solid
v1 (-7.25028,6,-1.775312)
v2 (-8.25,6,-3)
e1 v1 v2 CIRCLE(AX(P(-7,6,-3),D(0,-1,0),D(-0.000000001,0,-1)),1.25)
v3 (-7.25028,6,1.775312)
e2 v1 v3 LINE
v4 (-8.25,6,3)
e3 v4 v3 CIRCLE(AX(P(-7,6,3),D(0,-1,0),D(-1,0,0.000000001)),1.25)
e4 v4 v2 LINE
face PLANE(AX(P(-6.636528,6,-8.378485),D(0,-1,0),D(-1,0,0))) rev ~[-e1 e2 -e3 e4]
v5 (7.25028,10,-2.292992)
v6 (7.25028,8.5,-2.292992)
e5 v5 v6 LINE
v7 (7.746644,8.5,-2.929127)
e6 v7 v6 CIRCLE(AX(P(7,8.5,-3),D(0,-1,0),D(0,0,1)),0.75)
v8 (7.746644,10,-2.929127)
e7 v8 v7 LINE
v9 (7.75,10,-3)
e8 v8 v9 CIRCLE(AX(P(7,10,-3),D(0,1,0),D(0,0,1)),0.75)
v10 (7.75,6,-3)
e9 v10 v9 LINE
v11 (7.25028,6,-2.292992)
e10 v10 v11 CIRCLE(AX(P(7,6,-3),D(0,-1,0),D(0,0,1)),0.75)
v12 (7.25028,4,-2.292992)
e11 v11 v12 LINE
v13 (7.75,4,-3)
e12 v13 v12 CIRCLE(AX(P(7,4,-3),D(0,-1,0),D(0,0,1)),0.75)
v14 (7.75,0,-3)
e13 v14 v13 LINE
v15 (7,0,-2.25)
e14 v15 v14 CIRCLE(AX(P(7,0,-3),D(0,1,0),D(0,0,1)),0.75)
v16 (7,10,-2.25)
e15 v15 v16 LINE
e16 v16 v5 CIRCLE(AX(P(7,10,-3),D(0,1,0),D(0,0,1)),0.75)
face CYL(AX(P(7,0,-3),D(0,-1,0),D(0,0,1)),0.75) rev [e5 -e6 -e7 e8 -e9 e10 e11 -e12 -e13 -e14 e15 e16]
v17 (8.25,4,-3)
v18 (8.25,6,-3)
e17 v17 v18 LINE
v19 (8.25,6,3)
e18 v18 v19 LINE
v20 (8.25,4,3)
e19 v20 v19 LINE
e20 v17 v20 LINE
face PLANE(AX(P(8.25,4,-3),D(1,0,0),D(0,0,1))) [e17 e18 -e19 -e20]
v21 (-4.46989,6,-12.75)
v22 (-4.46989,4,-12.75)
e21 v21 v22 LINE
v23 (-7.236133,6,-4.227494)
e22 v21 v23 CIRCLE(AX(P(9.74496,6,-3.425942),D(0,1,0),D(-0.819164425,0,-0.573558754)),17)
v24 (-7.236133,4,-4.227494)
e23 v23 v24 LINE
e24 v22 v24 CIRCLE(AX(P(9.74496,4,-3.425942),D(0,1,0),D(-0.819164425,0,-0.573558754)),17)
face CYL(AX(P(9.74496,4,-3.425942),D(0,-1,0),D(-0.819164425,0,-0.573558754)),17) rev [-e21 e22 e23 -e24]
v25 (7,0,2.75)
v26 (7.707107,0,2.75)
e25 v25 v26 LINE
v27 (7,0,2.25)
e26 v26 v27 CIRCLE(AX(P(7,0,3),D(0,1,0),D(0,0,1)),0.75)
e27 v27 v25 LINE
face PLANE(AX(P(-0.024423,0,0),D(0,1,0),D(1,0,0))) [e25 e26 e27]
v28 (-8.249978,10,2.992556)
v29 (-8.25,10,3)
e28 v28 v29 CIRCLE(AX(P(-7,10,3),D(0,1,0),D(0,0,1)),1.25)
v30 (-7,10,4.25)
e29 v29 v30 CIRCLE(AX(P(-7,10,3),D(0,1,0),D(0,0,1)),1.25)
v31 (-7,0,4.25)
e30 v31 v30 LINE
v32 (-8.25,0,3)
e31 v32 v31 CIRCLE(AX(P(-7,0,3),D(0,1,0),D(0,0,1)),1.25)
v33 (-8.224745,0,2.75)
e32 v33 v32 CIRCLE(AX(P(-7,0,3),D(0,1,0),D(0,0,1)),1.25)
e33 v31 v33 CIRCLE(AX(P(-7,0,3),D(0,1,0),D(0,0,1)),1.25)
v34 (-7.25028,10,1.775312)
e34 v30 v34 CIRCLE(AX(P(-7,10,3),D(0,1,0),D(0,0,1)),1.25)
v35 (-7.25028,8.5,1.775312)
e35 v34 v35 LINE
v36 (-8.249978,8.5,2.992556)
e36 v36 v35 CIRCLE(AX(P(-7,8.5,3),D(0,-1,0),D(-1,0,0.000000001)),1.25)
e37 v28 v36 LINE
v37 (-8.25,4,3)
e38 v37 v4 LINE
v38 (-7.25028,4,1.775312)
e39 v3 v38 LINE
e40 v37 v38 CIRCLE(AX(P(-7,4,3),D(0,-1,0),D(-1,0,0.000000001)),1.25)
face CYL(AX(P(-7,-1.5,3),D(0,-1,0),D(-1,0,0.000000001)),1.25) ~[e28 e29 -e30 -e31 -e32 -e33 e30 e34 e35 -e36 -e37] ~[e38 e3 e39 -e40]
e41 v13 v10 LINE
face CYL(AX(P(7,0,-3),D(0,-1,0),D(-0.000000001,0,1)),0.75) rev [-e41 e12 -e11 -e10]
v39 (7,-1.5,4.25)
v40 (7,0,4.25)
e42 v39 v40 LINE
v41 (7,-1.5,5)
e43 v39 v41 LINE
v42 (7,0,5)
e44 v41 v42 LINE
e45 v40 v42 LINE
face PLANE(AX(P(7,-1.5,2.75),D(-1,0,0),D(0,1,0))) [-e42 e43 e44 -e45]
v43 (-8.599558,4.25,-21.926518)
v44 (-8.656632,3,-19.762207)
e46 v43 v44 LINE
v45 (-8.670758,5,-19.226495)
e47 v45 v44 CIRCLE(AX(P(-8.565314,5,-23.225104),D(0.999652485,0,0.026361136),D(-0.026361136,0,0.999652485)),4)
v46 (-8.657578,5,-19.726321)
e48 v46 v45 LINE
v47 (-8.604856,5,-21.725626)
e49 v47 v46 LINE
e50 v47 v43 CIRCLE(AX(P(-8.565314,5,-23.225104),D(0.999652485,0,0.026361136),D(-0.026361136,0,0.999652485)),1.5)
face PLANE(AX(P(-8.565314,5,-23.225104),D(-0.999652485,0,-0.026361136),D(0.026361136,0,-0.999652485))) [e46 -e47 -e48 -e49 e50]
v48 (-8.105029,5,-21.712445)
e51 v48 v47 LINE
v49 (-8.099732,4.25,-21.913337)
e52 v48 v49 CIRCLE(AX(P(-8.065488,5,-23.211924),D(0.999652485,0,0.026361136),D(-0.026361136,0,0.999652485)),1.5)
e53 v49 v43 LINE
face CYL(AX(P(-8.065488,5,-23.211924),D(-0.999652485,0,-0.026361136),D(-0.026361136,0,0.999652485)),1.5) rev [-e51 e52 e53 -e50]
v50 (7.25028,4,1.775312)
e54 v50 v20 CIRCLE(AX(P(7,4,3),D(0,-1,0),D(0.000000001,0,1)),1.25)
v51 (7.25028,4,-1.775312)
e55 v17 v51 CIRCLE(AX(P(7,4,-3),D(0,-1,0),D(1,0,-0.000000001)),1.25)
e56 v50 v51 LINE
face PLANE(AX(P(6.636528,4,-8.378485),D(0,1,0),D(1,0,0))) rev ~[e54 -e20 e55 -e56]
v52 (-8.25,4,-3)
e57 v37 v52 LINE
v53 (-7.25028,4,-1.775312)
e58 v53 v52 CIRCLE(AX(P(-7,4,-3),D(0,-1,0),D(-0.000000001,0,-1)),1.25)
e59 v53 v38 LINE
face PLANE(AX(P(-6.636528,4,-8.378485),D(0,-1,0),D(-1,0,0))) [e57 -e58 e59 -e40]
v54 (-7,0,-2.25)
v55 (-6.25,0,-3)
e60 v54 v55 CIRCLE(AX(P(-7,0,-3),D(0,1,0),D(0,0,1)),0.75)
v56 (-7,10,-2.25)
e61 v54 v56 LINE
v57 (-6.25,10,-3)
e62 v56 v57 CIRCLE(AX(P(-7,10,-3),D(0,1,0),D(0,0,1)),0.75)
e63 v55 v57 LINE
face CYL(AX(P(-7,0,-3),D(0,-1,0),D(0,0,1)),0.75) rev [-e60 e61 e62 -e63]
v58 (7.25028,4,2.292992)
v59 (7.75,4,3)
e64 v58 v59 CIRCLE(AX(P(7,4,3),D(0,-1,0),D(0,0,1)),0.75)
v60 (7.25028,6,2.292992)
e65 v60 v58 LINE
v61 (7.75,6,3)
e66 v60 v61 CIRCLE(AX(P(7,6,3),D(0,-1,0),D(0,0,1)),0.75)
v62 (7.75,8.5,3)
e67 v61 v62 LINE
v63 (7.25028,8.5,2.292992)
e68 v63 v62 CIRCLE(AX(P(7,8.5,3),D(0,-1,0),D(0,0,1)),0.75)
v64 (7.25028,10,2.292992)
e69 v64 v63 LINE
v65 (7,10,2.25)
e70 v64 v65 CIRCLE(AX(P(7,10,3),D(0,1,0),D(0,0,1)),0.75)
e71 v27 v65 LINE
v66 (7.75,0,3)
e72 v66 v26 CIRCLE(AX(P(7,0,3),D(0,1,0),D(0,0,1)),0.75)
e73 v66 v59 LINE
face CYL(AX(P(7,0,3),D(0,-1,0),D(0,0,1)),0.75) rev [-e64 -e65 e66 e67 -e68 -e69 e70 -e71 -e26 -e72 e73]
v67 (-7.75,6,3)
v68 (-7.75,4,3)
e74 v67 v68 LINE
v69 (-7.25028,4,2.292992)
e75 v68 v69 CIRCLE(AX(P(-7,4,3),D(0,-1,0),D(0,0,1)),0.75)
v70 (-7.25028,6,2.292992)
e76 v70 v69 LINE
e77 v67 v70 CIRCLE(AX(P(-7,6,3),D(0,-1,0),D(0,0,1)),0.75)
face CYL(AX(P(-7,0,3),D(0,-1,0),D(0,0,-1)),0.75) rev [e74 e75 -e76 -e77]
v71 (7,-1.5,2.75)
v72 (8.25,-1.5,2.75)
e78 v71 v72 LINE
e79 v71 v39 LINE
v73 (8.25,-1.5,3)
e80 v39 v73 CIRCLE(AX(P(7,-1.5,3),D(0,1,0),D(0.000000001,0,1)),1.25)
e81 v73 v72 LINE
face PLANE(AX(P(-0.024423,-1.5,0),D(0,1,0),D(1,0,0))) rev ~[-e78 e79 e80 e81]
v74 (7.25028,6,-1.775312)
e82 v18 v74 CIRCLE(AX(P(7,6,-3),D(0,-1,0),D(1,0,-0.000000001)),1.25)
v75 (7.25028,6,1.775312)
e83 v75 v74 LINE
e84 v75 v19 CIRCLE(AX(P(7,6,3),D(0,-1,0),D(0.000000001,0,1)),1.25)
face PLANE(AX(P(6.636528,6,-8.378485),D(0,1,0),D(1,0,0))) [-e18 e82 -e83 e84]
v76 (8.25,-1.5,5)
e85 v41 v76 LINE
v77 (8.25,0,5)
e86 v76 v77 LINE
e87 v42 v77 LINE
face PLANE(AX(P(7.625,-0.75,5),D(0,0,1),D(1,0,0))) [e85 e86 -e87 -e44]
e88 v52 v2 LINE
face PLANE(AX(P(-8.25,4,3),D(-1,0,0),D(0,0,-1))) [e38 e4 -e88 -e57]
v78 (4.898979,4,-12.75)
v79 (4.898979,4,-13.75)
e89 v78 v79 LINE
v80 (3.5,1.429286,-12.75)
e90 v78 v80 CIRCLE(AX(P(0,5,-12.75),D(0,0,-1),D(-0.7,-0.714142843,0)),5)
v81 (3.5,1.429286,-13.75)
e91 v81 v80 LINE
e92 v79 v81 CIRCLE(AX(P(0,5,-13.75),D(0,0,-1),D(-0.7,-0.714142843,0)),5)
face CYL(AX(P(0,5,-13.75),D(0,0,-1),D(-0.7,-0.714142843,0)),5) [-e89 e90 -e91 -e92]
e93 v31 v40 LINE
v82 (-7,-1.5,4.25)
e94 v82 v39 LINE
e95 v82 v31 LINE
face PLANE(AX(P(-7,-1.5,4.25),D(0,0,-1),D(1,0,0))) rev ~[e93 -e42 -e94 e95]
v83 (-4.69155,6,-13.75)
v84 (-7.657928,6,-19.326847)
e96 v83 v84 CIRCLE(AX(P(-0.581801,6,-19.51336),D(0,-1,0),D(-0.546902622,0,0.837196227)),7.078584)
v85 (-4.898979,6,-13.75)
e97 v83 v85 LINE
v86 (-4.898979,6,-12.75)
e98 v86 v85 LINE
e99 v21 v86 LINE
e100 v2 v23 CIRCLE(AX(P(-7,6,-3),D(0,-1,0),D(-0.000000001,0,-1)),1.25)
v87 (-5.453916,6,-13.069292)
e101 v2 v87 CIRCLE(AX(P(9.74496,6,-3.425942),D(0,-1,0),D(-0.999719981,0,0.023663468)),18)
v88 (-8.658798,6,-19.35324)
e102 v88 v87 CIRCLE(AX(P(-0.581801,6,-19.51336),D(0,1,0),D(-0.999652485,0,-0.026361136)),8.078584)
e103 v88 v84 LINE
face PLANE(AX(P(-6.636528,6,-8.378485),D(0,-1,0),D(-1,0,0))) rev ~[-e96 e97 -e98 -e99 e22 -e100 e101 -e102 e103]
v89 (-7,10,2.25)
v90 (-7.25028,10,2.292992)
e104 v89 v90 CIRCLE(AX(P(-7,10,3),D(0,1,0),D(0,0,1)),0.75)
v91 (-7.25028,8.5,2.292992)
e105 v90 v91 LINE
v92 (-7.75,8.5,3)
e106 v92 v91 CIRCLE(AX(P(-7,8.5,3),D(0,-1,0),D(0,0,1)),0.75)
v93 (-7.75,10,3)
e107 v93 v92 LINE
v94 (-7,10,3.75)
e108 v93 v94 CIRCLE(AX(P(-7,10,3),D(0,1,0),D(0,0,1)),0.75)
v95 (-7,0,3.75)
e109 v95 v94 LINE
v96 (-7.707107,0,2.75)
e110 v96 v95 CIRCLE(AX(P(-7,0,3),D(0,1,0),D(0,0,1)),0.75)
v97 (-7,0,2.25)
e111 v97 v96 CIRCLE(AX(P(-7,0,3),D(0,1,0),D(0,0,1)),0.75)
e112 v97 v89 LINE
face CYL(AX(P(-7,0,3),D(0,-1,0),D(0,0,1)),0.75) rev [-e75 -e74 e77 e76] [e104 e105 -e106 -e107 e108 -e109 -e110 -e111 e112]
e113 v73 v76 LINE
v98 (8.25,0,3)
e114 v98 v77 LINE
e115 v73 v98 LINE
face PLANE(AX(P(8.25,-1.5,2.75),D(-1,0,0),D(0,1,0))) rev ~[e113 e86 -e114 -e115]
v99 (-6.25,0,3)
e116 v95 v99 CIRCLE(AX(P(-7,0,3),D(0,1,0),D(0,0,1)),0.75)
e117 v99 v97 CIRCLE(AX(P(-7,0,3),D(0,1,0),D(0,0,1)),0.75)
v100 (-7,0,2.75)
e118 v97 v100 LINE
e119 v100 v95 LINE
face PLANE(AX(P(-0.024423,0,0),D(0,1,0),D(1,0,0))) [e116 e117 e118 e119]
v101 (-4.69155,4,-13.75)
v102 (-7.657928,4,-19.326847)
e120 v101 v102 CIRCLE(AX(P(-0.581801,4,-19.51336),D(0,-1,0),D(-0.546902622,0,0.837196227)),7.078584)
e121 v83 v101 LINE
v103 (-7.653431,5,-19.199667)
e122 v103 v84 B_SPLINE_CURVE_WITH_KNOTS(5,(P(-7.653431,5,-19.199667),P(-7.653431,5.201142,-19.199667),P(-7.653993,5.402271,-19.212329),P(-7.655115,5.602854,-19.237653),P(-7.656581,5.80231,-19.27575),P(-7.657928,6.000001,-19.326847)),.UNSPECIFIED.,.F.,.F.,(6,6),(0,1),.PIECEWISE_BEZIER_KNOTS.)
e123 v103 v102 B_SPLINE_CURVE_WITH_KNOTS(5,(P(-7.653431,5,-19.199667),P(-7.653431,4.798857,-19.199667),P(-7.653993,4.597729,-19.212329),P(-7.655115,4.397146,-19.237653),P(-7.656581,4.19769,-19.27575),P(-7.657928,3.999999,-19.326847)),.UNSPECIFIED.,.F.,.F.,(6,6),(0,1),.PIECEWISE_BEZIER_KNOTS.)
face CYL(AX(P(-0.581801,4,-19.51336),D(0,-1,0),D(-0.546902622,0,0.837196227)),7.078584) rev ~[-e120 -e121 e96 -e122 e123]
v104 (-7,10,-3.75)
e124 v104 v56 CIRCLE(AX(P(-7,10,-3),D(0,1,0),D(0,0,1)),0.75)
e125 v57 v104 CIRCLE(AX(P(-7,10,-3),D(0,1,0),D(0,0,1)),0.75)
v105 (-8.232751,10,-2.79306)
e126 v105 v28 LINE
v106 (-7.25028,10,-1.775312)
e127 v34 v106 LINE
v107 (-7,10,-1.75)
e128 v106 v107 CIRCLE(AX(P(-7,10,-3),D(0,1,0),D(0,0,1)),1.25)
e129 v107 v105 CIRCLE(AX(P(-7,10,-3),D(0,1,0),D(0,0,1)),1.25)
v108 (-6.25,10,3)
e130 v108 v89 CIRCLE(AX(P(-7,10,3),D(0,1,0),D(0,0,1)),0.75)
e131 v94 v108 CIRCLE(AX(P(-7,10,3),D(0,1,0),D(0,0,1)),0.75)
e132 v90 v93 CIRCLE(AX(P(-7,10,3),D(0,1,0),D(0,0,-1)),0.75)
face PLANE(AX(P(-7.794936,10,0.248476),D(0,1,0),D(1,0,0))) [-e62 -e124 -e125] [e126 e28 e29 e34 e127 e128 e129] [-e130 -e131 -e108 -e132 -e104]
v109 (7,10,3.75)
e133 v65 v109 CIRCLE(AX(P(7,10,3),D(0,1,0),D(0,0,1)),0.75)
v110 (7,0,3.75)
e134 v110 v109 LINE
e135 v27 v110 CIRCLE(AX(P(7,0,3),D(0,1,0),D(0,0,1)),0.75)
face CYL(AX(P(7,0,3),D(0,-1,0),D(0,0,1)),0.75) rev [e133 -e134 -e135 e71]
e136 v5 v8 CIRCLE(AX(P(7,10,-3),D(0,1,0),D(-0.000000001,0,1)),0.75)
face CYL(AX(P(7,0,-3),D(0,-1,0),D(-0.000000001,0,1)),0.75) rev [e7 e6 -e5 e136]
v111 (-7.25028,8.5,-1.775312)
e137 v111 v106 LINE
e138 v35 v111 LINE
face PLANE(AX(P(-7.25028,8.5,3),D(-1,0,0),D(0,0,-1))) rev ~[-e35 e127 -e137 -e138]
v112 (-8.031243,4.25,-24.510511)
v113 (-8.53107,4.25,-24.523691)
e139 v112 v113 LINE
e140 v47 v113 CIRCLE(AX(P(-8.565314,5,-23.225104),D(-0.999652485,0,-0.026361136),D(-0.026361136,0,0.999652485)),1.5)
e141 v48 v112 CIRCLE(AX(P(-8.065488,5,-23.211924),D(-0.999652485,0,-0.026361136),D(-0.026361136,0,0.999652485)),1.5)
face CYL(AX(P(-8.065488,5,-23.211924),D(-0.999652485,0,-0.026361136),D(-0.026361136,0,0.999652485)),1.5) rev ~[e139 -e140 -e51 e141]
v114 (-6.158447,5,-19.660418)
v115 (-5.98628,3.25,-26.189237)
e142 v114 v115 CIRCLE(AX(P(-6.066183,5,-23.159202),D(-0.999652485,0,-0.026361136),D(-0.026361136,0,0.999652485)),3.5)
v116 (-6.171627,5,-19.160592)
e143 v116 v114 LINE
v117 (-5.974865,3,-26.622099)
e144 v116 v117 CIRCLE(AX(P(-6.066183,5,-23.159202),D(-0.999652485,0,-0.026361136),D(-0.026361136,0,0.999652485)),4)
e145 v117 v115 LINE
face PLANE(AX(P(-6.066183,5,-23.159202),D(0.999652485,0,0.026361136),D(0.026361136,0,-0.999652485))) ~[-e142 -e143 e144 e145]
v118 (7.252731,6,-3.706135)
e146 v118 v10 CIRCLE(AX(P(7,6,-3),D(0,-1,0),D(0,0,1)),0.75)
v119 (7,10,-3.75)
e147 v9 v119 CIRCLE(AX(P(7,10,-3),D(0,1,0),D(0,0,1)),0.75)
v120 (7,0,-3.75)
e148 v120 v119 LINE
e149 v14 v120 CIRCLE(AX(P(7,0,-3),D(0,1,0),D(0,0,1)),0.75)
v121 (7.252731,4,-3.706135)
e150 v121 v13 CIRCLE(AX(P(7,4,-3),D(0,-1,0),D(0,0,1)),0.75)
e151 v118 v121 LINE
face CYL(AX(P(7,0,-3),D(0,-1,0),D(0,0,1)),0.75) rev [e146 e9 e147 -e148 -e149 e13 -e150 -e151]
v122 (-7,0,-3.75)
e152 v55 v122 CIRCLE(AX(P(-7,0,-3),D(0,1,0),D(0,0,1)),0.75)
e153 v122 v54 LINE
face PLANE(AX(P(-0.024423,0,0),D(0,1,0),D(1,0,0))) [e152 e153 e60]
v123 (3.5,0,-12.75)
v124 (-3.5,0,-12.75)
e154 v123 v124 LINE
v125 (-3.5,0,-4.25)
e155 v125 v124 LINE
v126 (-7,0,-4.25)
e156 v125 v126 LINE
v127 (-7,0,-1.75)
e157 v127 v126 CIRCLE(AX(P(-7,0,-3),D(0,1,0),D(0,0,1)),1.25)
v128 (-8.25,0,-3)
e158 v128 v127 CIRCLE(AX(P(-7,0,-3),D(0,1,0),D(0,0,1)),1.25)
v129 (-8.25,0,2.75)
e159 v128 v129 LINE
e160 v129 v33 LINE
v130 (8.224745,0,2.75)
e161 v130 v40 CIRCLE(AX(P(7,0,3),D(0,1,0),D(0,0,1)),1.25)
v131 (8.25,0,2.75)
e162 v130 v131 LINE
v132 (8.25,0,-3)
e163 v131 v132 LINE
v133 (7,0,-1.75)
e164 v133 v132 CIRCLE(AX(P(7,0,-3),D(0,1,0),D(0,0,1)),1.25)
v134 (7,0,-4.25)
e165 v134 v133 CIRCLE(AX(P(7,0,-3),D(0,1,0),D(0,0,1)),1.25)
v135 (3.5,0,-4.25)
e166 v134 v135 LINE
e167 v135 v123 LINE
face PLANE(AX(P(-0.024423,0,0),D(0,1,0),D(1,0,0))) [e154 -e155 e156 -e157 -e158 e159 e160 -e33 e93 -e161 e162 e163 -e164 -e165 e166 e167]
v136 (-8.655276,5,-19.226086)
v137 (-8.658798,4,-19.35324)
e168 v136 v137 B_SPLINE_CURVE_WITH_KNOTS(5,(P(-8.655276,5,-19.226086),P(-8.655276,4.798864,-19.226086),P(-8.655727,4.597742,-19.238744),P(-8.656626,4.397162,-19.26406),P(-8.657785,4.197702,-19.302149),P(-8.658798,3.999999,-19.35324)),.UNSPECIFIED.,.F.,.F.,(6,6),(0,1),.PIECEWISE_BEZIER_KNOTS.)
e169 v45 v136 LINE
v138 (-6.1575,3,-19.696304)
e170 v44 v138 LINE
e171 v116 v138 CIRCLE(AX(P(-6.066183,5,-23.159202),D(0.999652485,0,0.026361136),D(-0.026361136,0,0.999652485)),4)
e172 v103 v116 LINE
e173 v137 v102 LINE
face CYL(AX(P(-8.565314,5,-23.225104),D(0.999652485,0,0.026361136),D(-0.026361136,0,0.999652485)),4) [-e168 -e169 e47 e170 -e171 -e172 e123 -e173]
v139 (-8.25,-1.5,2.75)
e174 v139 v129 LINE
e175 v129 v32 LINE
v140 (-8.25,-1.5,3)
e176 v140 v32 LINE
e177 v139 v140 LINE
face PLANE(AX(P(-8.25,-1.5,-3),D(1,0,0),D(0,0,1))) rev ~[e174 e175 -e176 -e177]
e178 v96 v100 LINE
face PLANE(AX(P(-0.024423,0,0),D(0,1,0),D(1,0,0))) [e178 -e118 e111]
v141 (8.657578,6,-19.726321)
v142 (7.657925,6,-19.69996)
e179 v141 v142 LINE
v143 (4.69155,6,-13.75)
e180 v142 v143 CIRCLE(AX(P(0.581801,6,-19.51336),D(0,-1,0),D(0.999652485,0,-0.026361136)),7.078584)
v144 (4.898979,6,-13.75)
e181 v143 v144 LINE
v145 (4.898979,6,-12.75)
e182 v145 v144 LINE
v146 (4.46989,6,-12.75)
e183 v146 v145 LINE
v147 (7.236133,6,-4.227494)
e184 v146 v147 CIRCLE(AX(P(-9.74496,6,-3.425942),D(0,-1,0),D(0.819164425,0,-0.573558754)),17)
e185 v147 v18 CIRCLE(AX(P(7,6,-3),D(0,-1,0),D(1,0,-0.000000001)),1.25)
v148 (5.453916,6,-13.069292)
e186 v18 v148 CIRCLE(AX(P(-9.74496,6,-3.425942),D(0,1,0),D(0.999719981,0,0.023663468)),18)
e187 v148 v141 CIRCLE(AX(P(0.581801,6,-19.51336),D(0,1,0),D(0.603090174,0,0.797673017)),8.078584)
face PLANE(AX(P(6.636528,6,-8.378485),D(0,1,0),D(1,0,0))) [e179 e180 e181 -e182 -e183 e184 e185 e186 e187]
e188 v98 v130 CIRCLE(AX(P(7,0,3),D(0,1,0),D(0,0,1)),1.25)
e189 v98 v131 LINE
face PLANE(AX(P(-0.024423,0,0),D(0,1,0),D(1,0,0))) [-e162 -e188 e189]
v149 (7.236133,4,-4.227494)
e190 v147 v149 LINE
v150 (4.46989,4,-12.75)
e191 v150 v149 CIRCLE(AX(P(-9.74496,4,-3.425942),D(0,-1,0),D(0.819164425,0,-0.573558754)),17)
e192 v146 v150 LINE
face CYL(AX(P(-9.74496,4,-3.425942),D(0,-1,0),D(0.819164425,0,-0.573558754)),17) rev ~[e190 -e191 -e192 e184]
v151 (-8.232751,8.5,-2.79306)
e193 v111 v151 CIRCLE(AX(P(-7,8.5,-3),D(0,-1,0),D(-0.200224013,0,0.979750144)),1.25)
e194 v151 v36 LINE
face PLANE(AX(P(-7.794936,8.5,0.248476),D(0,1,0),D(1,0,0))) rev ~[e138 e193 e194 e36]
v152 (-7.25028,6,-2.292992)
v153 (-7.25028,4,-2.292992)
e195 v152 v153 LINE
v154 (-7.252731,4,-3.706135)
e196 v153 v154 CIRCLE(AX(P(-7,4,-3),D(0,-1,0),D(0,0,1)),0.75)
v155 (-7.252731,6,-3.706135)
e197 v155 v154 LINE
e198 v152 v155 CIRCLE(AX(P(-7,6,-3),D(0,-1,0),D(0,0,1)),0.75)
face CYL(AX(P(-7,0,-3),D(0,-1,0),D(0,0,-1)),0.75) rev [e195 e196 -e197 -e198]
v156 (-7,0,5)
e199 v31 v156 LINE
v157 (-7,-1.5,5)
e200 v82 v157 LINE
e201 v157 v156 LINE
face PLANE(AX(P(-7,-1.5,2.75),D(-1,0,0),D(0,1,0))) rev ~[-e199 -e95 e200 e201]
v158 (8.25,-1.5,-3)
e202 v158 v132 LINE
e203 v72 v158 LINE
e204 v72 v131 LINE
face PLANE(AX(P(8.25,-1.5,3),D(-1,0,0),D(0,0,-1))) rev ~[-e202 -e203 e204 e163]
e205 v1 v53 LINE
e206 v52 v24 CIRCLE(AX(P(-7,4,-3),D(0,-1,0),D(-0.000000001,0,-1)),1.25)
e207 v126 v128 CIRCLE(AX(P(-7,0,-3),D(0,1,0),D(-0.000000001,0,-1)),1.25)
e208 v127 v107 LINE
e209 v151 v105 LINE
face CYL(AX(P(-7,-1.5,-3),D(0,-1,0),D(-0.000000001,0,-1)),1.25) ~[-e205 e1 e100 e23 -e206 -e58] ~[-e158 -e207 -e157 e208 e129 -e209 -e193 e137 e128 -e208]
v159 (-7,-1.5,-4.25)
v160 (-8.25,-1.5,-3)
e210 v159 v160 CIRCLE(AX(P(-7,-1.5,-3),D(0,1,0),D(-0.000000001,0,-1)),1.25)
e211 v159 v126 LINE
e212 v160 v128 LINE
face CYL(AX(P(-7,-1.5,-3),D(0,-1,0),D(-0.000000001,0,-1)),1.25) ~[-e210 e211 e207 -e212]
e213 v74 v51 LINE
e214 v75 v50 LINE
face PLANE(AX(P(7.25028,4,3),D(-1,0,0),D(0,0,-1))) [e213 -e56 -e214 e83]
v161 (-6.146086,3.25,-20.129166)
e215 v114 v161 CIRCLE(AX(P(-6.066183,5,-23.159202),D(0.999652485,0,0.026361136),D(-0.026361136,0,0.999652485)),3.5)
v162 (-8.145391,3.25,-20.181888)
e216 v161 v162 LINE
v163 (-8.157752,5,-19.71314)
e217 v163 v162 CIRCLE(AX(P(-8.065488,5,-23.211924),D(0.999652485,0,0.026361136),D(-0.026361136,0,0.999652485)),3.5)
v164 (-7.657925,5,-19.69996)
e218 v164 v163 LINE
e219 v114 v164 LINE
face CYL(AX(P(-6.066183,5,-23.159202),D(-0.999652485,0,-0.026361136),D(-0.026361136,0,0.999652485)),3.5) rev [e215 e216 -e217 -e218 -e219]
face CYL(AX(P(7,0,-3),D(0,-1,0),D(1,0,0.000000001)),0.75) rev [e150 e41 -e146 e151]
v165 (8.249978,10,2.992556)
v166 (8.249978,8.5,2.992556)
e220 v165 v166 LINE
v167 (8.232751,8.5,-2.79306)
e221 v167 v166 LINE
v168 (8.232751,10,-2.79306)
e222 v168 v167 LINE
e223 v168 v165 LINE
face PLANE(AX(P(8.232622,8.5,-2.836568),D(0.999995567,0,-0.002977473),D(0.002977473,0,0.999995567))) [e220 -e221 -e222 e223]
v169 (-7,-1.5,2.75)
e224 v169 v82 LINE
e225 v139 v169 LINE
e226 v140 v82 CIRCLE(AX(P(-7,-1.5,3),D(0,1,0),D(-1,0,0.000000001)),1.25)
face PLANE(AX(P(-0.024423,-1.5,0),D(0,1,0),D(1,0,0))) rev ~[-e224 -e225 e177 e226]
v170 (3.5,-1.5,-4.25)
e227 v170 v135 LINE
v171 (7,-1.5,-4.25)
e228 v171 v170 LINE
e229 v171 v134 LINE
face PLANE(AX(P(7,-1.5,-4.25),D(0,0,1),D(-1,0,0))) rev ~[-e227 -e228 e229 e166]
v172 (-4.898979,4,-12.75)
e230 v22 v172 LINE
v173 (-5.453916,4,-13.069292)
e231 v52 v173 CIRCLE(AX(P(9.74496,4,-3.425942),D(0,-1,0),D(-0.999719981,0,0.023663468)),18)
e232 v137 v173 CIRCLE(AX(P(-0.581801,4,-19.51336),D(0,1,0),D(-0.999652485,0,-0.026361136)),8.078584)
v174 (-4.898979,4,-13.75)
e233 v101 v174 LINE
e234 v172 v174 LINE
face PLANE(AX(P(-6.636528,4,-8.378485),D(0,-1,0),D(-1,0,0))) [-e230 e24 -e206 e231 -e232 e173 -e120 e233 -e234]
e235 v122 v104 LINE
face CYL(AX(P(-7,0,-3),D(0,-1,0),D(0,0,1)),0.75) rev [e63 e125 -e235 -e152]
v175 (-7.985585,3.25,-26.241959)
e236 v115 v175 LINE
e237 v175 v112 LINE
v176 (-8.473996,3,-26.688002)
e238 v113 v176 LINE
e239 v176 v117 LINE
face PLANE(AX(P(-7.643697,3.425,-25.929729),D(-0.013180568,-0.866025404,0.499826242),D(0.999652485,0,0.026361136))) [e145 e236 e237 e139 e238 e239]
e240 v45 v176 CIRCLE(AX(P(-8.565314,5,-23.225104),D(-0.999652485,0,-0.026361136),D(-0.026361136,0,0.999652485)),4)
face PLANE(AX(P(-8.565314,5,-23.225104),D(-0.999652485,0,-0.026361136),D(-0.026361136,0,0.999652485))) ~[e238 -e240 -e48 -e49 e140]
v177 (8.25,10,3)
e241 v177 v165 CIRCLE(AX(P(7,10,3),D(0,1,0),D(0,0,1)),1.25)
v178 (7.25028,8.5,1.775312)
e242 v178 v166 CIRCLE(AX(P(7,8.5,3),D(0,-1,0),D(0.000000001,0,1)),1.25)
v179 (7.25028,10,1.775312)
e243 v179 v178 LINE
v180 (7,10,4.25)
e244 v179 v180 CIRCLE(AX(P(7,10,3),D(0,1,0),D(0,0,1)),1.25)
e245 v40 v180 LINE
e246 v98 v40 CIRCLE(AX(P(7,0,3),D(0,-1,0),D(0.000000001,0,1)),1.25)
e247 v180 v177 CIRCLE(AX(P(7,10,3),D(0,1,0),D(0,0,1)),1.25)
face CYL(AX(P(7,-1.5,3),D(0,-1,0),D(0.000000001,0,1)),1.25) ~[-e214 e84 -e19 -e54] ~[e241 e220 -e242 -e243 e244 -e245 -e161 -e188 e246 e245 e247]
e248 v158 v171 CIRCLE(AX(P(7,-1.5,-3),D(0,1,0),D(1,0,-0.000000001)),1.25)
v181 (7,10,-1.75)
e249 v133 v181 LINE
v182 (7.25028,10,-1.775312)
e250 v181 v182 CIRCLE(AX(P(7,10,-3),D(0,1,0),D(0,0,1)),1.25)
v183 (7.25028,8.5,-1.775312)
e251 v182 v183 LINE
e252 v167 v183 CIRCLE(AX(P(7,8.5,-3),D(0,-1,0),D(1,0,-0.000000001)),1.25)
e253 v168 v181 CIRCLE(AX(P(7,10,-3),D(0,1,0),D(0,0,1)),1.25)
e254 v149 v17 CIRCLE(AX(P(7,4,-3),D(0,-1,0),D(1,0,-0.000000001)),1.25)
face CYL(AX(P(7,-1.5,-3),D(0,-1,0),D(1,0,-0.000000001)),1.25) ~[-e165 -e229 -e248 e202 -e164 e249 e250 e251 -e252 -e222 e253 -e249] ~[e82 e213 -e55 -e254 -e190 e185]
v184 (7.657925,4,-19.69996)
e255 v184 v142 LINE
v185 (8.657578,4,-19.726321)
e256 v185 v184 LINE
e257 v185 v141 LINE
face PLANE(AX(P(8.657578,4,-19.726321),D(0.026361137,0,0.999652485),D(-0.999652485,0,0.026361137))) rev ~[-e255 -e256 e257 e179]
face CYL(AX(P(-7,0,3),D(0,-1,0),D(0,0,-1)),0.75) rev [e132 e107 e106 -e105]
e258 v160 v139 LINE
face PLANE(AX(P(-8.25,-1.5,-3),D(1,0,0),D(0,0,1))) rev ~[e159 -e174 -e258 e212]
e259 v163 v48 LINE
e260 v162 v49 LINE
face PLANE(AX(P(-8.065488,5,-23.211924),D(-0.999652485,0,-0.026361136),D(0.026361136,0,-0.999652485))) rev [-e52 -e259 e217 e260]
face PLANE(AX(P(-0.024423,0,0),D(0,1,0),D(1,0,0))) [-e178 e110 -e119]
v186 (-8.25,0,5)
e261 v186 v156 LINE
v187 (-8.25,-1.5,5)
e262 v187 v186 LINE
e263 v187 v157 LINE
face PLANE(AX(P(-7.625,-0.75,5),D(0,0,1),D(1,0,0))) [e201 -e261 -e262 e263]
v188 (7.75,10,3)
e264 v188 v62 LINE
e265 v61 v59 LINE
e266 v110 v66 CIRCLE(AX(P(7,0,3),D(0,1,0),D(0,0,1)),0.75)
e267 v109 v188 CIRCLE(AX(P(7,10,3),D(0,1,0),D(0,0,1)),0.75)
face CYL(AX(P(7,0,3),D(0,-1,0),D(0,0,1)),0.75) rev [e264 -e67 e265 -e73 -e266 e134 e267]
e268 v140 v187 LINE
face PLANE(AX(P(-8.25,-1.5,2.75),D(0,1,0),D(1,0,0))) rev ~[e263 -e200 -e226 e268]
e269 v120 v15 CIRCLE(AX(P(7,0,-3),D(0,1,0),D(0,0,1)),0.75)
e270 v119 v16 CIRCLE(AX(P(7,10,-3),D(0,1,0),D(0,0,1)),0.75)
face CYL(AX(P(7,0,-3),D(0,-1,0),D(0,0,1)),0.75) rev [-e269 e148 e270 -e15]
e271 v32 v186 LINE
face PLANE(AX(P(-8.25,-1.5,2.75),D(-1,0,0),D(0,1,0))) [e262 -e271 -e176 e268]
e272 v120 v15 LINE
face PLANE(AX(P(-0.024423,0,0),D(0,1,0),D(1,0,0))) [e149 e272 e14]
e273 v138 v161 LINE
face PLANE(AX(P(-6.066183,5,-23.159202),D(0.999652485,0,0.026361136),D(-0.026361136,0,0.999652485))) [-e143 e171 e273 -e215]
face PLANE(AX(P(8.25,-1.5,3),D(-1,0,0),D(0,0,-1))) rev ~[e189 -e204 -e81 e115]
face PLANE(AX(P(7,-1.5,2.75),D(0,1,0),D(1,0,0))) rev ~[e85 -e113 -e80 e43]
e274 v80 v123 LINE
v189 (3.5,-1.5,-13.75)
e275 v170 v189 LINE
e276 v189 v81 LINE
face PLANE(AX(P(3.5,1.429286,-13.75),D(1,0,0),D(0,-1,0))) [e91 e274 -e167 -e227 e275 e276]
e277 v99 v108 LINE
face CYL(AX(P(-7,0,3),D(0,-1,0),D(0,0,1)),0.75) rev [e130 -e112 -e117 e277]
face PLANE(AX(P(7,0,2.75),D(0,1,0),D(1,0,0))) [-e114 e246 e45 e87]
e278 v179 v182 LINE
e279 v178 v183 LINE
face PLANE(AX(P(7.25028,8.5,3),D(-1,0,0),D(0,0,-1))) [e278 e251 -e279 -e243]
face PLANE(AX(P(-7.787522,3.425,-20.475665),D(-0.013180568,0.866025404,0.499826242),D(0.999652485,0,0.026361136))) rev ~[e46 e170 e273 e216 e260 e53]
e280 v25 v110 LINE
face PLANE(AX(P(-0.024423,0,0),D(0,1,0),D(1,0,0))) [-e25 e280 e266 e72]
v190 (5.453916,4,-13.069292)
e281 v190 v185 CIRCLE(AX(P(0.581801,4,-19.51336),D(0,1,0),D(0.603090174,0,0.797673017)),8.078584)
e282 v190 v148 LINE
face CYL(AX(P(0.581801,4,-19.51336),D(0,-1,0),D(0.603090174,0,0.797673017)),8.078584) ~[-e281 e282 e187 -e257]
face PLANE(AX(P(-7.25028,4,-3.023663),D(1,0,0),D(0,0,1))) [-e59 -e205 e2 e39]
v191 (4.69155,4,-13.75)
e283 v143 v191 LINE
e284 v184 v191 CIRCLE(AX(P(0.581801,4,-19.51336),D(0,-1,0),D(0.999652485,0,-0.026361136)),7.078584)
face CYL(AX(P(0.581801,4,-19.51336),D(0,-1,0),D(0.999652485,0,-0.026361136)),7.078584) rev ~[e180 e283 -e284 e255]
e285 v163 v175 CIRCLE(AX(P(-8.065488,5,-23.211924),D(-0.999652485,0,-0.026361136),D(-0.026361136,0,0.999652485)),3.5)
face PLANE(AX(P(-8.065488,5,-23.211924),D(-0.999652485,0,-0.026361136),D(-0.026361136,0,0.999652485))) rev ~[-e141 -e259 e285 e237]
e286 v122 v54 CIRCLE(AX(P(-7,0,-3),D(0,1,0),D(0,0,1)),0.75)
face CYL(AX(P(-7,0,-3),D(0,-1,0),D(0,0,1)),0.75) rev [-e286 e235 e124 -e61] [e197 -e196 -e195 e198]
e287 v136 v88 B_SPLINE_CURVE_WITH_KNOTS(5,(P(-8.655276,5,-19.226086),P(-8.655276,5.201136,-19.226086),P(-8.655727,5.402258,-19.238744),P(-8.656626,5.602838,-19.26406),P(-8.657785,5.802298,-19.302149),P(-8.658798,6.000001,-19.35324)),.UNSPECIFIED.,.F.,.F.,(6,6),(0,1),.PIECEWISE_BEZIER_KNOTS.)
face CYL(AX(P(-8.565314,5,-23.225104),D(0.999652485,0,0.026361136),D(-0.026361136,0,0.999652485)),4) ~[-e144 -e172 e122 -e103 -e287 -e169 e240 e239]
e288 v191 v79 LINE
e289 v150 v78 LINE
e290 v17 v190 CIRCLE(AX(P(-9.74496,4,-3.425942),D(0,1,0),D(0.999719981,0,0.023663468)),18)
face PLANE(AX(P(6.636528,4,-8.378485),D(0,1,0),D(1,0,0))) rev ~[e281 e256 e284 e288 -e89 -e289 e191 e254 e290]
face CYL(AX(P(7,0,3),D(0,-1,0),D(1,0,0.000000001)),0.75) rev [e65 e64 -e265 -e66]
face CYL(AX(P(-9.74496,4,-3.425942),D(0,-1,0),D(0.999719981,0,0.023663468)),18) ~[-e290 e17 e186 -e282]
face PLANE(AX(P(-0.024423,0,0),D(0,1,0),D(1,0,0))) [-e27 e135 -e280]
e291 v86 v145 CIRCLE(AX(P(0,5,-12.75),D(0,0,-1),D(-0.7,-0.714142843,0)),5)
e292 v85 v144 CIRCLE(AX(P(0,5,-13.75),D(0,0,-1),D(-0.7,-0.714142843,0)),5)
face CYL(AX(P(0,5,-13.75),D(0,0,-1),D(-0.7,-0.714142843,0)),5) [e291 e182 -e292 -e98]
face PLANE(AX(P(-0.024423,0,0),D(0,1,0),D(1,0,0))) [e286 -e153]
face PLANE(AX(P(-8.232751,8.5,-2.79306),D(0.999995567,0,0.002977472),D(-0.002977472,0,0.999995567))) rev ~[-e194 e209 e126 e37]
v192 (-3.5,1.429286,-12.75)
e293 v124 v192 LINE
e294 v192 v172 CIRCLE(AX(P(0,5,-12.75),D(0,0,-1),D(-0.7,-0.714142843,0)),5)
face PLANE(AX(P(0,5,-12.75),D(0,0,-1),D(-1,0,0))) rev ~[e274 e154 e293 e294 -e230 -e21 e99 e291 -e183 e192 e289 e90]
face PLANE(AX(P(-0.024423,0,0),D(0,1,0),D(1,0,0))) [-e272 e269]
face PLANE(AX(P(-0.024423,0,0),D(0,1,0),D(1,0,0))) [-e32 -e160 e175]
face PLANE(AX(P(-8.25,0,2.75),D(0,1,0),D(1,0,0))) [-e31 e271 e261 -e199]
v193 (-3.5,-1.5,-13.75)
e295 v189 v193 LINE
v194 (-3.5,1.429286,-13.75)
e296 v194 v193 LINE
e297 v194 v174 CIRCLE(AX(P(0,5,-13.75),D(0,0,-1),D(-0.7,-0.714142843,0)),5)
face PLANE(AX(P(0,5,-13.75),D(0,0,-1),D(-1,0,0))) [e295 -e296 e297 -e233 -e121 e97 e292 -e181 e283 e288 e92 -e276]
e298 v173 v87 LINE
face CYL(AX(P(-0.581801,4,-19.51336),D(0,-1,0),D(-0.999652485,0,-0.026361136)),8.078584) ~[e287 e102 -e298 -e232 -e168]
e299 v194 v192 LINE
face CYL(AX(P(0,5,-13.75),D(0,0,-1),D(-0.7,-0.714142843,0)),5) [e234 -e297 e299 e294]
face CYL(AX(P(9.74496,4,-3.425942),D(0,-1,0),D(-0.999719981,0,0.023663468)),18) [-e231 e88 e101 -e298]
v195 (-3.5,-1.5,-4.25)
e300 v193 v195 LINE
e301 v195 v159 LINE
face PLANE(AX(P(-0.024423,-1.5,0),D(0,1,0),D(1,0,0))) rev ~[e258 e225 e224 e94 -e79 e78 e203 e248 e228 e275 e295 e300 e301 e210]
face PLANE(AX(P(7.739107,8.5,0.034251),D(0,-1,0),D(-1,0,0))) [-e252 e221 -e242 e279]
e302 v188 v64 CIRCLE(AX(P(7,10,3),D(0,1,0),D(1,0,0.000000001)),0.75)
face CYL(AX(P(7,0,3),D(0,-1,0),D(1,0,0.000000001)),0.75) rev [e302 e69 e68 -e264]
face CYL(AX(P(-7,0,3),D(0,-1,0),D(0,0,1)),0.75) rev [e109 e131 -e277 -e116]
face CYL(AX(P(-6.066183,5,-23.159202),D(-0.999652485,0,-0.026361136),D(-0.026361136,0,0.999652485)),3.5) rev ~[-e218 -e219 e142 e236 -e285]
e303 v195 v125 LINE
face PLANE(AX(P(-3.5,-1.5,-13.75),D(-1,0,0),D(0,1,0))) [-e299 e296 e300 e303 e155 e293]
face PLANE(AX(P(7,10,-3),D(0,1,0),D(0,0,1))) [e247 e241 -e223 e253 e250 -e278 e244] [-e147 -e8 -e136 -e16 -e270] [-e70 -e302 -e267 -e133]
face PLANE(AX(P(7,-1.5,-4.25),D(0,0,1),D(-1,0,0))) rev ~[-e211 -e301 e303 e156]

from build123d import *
from build123d.topology import SkipClean

# Parameters (mm, degrees)
SKETCH1_R                = 1.25
SKETCH1_R_2              = 0.75
BOSS_EXTRUDE1_DEPTH      = 10
BOSS_EXTRUDE1_2_DEPTH    = 10
BOSS_EXTRUDE1_3_DEPTH    = 10
BOSS_EXTRUDE1_4_DEPTH    = 10
BOSS_EXTRUDE2_START      = -1.5
BOSS_EXTRUDE2_DEPTH      = 1.5
SKETCH3_W                = 7
SKETCH3_H                = 1.5
BOSS_EXTRUDE3_DEPTH      = 9.5
SKETCH4_R                = 5
BOSS_EXTRUDE4_DEPTH      = 1
BOSS_EXTRUDE5_DEPTH      = 1
BOSS_EXTRUDE5_DEPTH_BACK = 1
BOSS_EXTRUDE7_START      = -1.5
BOSS_EXTRUDE7_DEPTH      = 1.5
CUT_EXTRUDE3_DEPTH       = 10
BOSS_EXTRUDE9_DEPTH      = 0.75
BOSS_EXTRUDE9_DEPTH_BACK = 1.5
SKETCH11_W               = 1.25
SKETCH11_H               = 1.5
REVOLVE1_ANGLE           = 210
REVOLVE1_OTHER_WAY_ANGLE = 30


with BuildPart() as part:
    # Sketch1 → Boss-Extrude1 (new body)
    with BuildSketch(Plane(origin=(0, 0, 0), x_dir=(1, 0, 0), z_dir=(0, 1, 0))):
        with Locations(Location((-7, -3, 0), (0, 0, 270))):
            Circle(SKETCH1_R)
        with Locations(Location((-7, -3, 0), (0, 0, 270))):
            Circle(SKETCH1_R_2, mode=Mode.SUBTRACT)
    extrude(amount=BOSS_EXTRUDE1_DEPTH)



with BuildPart() as body_2:
    # Sketch1 → Boss-Extrude1 2 (new body)
    with BuildSketch(Plane(origin=(0, 0, 0), x_dir=(1, 0, 0), z_dir=(0, 1, 0))):
        with Locations(Location((7, -3, 0), (0, 0, 270))):
            Circle(SKETCH1_R)
        with Locations(Location((7, -3, 0), (0, 0, 270))):
            Circle(SKETCH1_R_2, mode=Mode.SUBTRACT)
    extrude(amount=BOSS_EXTRUDE1_2_DEPTH)


with BuildPart() as body_3:
    # Sketch1 → Boss-Extrude1 3 (new body)
    with BuildSketch(Plane(origin=(0, 0, 0), x_dir=(1, 0, 0), z_dir=(0, 1, 0))):
        with Locations(Location((7, 3, 0), (0, 0, 270))):
            Circle(SKETCH1_R)
        with Locations(Location((7, 3, 0), (0, 0, 270))):
            Circle(SKETCH1_R_2, mode=Mode.SUBTRACT)
    extrude(amount=BOSS_EXTRUDE1_3_DEPTH)


with BuildPart() as body_4:
    # Sketch1 → Boss-Extrude1 4 (new body)
    with BuildSketch(Plane(origin=(0, 0, 0), x_dir=(1, 0, 0), z_dir=(0, 1, 0))):
        with Locations(Location((-7, 3, 0), (0, 0, 270))):
            Circle(SKETCH1_R)
        with Locations(Location((-7, 3, 0), (0, 0, 270))):
            Circle(SKETCH1_R_2, mode=Mode.SUBTRACT)
    extrude(amount=BOSS_EXTRUDE1_4_DEPTH)


with BuildPart() as part_1:
    add(part.part)

    add(body_2.part)  # Boss-Extrude2 merges body 2

    add(body_3.part)  # Boss-Extrude2 merges body 3

    add(body_4.part)  # Boss-Extrude2 merges body 4
    # Sketch1<5> → Boss-Extrude2 (add)
    with BuildSketch(Plane(origin=(0, 0, 0), x_dir=(1, 0, 0), z_dir=(0, 1, 0)).offset(BOSS_EXTRUDE2_START)):
        with BuildLine():
            Line((7, 4.25), (-7, 4.25))
            ThreePointArc((-7, 4.25), (-6.116116524, 3.883883476), (-5.75, 3))
            ThreePointArc((-5.75, 3), (-6.116116524, 2.116116524), (-7, 1.75))
            Line((-7, 1.75), (-7, -1.75))
            ThreePointArc((-7, -1.75), (-6.116116524, -2.116116524), (-5.75, -3))
            ThreePointArc((-5.75, -3), (-6.116116524, -3.883883476), (-7, -4.25))
            Line((-7, -4.25), (7, -4.25))
            ThreePointArc((7, -4.25), (5.75, -3), (7, -1.75))
            Line((7, -1.75), (7, 1.75))
            ThreePointArc((7, 1.75), (5.75, 3), (7, 4.25))
        make_face()
        with BuildLine():
            ThreePointArc((-5.75, 3), (-6.116116524, 3.883883476), (-7, 4.25))
            Line((-7, 4.25), (-7, 3.75))
            ThreePointArc((-7, 3.75), (-6.469669914, 3.530330086), (-6.25, 3))
            ThreePointArc((-6.25, 3), (-6.469669914, 2.469669914), (-7, 2.25))
            Line((-7, 2.25), (-7, 1.75))
            ThreePointArc((-7, 1.75), (-6.116116524, 2.116116524), (-5.75, 3))
        make_face()
        with BuildLine():
            Line((-7, 3.75), (-7, 4.25))
            ThreePointArc((-7, 4.25), (-7.883883476, 3.883883476), (-8.25, 3))
            ThreePointArc((-8.25, 3), (-7.883883476, 2.116116524), (-7, 1.75))
            Line((-7, 1.75), (-7, 2.25))
            ThreePointArc((-7, 2.25), (-7.75, 3), (-7, 3.75))
        make_face()
        with BuildLine():
            ThreePointArc((-7, -1.75), (-7.883883476, -2.116116524), (-8.25, -3))
            ThreePointArc((-8.25, -3), (-7.883883476, -3.883883476), (-7, -4.25))
            Line((-7, -4.25), (-7, -3.75))
            ThreePointArc((-7, -3.75), (-7.75, -3), (-7, -2.25))
            Line((-7, -2.25), (-7, -1.75))
        make_face()
        with BuildLine():
            ThreePointArc((-5.75, -3), (-6.116116524, -2.116116524), (-7, -1.75))
            Line((-7, -1.75), (-7, -2.25))
            ThreePointArc((-7, -2.25), (-6.469669914, -2.469669914), (-6.25, -3))
            ThreePointArc((-6.25, -3), (-6.469669914, -3.530330086), (-7, -3.75))
            Line((-7, -3.75), (-7, -4.25))
            ThreePointArc((-7, -4.25), (-6.116116524, -3.883883476), (-5.75, -3))
        make_face()
        with BuildLine():
            ThreePointArc((7, -4.25), (7.883883476, -3.883883476), (8.25, -3))
            ThreePointArc((8.25, -3), (7.883883476, -2.116116524), (7, -1.75))
            Line((7, -1.75), (7, -2.25))
            ThreePointArc((7, -2.25), (7.530330086, -2.469669914), (7.75, -3))
            ThreePointArc((7.75, -3), (7.530330086, -3.530330086), (7, -3.75))
            Line((7, -3.75), (7, -4.25))
        make_face()
        with BuildLine():
            Line((7, -2.25), (7, -1.75))
            ThreePointArc((7, -1.75), (5.75, -3), (7, -4.25))
            Line((7, -4.25), (7, -3.75))
            ThreePointArc((7, -3.75), (6.25, -3), (7, -2.25))
        make_face()
        with BuildLine():
            ThreePointArc((8.25, 3), (7.883883476, 3.883883476), (7, 4.25))
            Line((7, 4.25), (7, 3.75))
            ThreePointArc((7, 3.75), (7.530330086, 3.530330086), (7.75, 3))
            ThreePointArc((7.75, 3), (7.530330086, 2.469669914), (7, 2.25))
            Line((7, 2.25), (7, 1.75))
            ThreePointArc((7, 1.75), (7.883883476, 2.116116524), (8.25, 3))
        make_face()
        with BuildLine():
            Line((7, 3.75), (7, 4.25))
            ThreePointArc((7, 4.25), (5.75, 3), (7, 1.75))
            Line((7, 1.75), (7, 2.25))
            ThreePointArc((7, 2.25), (6.25, 3), (7, 3.75))
        make_face()
        with BuildLine():
            ThreePointArc((7.75, 3), (7.530330086, 3.530330086), (7, 3.75))
            Line((7, 3.75), (7, 2.25))
            ThreePointArc((7, 2.25), (7.530330086, 2.469669914), (7.75, 3))
        make_face()
        with BuildLine():
            Line((7, 2.25), (7, 3.75))
            ThreePointArc((7, 3.75), (6.25, 3), (7, 2.25))
        make_face()
        with BuildLine():
            ThreePointArc((7.75, -3), (7.530330086, -2.469669914), (7, -2.25))
            Line((7, -2.25), (7, -3.75))
            ThreePointArc((7, -3.75), (7.530330086, -3.530330086), (7.75, -3))
        make_face()
        with BuildLine():
            Line((7, -3.75), (7, -2.25))
            ThreePointArc((7, -2.25), (6.25, -3), (7, -3.75))
        make_face()
        with BuildLine():
            ThreePointArc((-6.25, -3), (-6.469669914, -2.469669914), (-7, -2.25))
            Line((-7, -2.25), (-7, -3.75))
            ThreePointArc((-7, -3.75), (-6.469669914, -3.530330086), (-6.25, -3))
        make_face()
        with BuildLine():
            Line((-7, -3.75), (-7, -2.25))
            ThreePointArc((-7, -2.25), (-7.75, -3), (-7, -3.75))
        make_face()
        with BuildLine():
            ThreePointArc((-6.25, 3), (-6.469669914, 3.530330086), (-7, 3.75))
            Line((-7, 3.75), (-7, 2.25))
            ThreePointArc((-7, 2.25), (-6.469669914, 2.469669914), (-6.25, 3))
        make_face()
        with BuildLine():
            Line((-7, 2.25), (-7, 3.75))
            ThreePointArc((-7, 3.75), (-7.75, 3), (-7, 2.25))
        make_face()
        with BuildLine():
            ThreePointArc((-7, 1.75), (-7.883883476, 2.116116524), (-8.25, 3))
            Line((-8.25, 3), (-8.25, -3))
            ThreePointArc((-8.25, -3), (-7.883883476, -2.116116524), (-7, -1.75))
            Line((-7, -1.75), (-7, 1.75))
        make_face()
        with BuildLine():
            Line((8.25, -3), (8.25, 3))
            ThreePointArc((8.25, 3), (7.883883476, 2.116116524), (7, 1.75))
            Line((7, 1.75), (7, -1.75))
            ThreePointArc((7, -1.75), (7.883883476, -2.116116524), (8.25, -3))
        make_face()
    extrude(amount=BOSS_EXTRUDE2_DEPTH)

    # Sketch3 → Boss-Extrude3 (add)
    with BuildSketch(Plane(origin=(0, 0, -4.25), x_dir=(-1, 0, 0), z_dir=(0, 0, -1))):
        with Locations((0, -0.75)):
            Rectangle(SKETCH3_W, SKETCH3_H)
    extrude(amount=BOSS_EXTRUDE3_DEPTH)

    # Sketch4 → Boss-Extrude4 (add)
    with BuildSketch(Plane(origin=(0, 0, -13.75), x_dir=(-1, 0, 0), z_dir=(0, 0, -1))):
        with Locations((0, 5)):
            Circle(SKETCH4_R)
        with BuildLine():
            ThreePointArc((3.5, 1.429285786), (1.890294809, 0.371092404), (0, 0))
            Line((0, 0), (3.5, 0))
            Line((3.5, 0), (3.5, 1.429285786))
        make_face()
        with BuildLine():
            Line((-3.5, 1.429285786), (-3.5, 0))
            Line((-3.5, 0), (0, 0))
            ThreePointArc((0, 0), (-1.890294809, 0.371092404), (-3.5, 1.429285786))
        make_face()
        Polygon((0, 0), (-3.5, 0), (-3.5, -1.5), (3.5, -1.5), (3.5, 0), align=None)
    extrude(amount=-BOSS_EXTRUDE4_DEPTH)

    # Sketch5 → Boss-Extrude5 (add, two sides: drawn at the far end of the back side and taken through both)
    with BuildSketch(Plane(origin=(0, 5, 0), x_dir=(1, 0, 0), z_dir=(0, 1, 0)).offset(-BOSS_EXTRUDE5_DEPTH_BACK)):
        with BuildLine():
            ThreePointArc((-4.180835575, 13.176441246), (-6.527634607, 8.345563951), (-7.250280019, 3.023663468))
            Line((-7.250280019, 3.023663468), (-8.25, 3))
            ThreePointArc((-8.25, 3), (-7.484846035, 8.634953452), (-5, 13.75))
            Line((-5, 13.75), (-4.180835575, 13.176441246))
        make_face()
        with BuildLine():
            Line((5, 13.75), (4.180835575, 13.176441246))
            ThreePointArc((4.180835575, 13.176441246), (6.527634607, 8.345563951), (7.250280019, 3.023663468))
            Line((7.250280019, 3.023663468), (8.25, 3))
            ThreePointArc((8.25, 3), (7.484846035, 8.634953452), (5, 13.75))
        make_face()
        Polygon((7.250280019, -3), (7.250280019, 3.023663468), (8.25, 3), (8.25, -3), align=None)
        Polygon((-7.250280019, -3), (-8.25, -3), (-8.25, 3), (-7.250280019, 3.023663468), align=None)
        with BuildLine():
            Line((4.551764711, 13.436156691), (5, 13.75))
            ThreePointArc((5, 13.75), (5.230826043, 13.412225154), (5.453915868, 13.069291577))
            ThreePointArc((5.453915868, 13.069291577), (7.861291681, 16.010141752), (8.657577833, 19.72632076))
            Line((8.657577833, 19.72632076), (7.657925348, 19.699959623))
            ThreePointArc((7.657925348, 19.699959623), (6.851009445, 16.226510498), (4.453097378, 13.587196227))
            Line((4.453097378, 13.587196227), (4.551764711, 13.436156691))
        make_face()
        with BuildLine():
            ThreePointArc((5.453915868, 13.069291577), (5.230826043, 13.412225154), (5, 13.75))
            Line((5, 13.75), (4.551764711, 13.436156691))
            Line((4.551764711, 13.436156691), (5, 12.75))
            ThreePointArc((5, 12.75), (5.229700496, 12.905746869), (5.453915868, 13.069291577))
        make_face()
        with BuildLine():
            ThreePointArc((-5.453915868, 13.069291577), (-5.230826043, 13.412225154), (-5, 13.75))
            Line((-5, 13.75), (-4.551764711, 13.436156691))
            Line((-4.551764711, 13.436156691), (-4.453097378, 13.587196227))
            ThreePointArc((-4.453097378, 13.587196227), (-6.851009445, 16.226510498), (-7.657925348, 19.699959623))
            Line((-7.657925348, 19.699959623), (-8.657577833, 19.72632076))
            ThreePointArc((-8.657577833, 19.72632076), (-7.861291681, 16.010141752), (-5.453915868, 13.069291577))
        make_face()
        with BuildLine():
            Line((-4.551764711, 13.436156691), (-5, 13.75))
            ThreePointArc((-5, 13.75), (-5.230826043, 13.412225154), (-5.453915868, 13.069291577))
            ThreePointArc((-5.453915868, 13.069291577), (-5.229700496, 12.905746869), (-5, 12.75))
            Line((-5, 12.75), (-4.551764711, 13.436156691))
        make_face()
    extrude(amount=BOSS_EXTRUDE5_DEPTH + BOSS_EXTRUDE5_DEPTH_BACK)

    # Sketch7 → Boss-Extrude7 (add)
    with BuildSketch(Plane(origin=(0, 10, 0), x_dir=(1, 0, 0), z_dir=(0, 1, 0)).offset(BOSS_EXTRUDE7_START)):
        with BuildLine():
            ThreePointArc((-7.250280019, 1.775312321), (-7.899331852, 2.131839749), (-8.232751249, 2.793059527))
            Line((-8.232751249, 2.793059527), (-8.25, -3))
            Line((-8.25, -3), (-7.250280019, -3))
            Line((-7.250280019, -3), (-7.250280019, 1.775312321))
        make_face()
        Polygon((7.250280019, -3), (7.250280019, 3.023663468), (8.232621703, 2.83656773), (8.25, -3), align=None)
    extrude(amount=BOSS_EXTRUDE7_DEPTH)

    # Sketch1<6> → Cut-Extrude3 (cut)
    with SkipClean():  # the faces are left unmerged after this step: merging them gives an invalid solid
        with BuildSketch(Plane(origin=(0, 0, 0), x_dir=(1, 0, 0), z_dir=(0, 1, 0))):
            with BuildLine():
                ThreePointArc((7.75, 3), (7.530330086, 3.530330086), (7, 3.75))
                Line((7, 3.75), (7, 2.25))
                ThreePointArc((7, 2.25), (7.530330086, 2.469669914), (7.75, 3))
            make_face()
            with BuildLine():
                Line((7, 2.25), (7, 3.75))
                ThreePointArc((7, 3.75), (6.25, 3), (7, 2.25))
            make_face()
            with BuildLine():
                ThreePointArc((7.75, -3), (7.530330086, -2.469669914), (7, -2.25))
                Line((7, -2.25), (7, -3.75))
                ThreePointArc((7, -3.75), (7.530330086, -3.530330086), (7.75, -3))
            make_face()
            with BuildLine():
                Line((7, -3.75), (7, -2.25))
                ThreePointArc((7, -2.25), (6.25, -3), (7, -3.75))
            make_face()
            with BuildLine():
                ThreePointArc((-6.25, -3), (-6.469669914, -2.469669914), (-7, -2.25))
                Line((-7, -2.25), (-7, -3.75))
                ThreePointArc((-7, -3.75), (-6.469669914, -3.530330086), (-6.25, -3))
            make_face()
            with BuildLine():
                Line((-7, -3.75), (-7, -2.25))
                ThreePointArc((-7, -2.25), (-7.75, -3), (-7, -3.75))
            make_face()
            with BuildLine():
                ThreePointArc((-6.25, 3), (-6.469669914, 3.530330086), (-7, 3.75))
                Line((-7, 3.75), (-7, 2.25))
                ThreePointArc((-7, 2.25), (-6.469669914, 2.469669914), (-6.25, 3))
            make_face()
            with BuildLine():
                Line((-7, 2.25), (-7, 3.75))
                ThreePointArc((-7, 3.75), (-7.75, 3), (-7, 2.25))
            make_face()
        extrude(amount=CUT_EXTRUDE3_DEPTH, mode=Mode.SUBTRACT)

    # Sketch11 → Boss-Extrude9 (add, two sides: drawn at the far end of the back side and taken through both)
    with SkipClean():  # the faces are left unmerged after this step: merging them gives an invalid solid
        with BuildSketch(Plane.XY.offset(4.25).offset(-BOSS_EXTRUDE9_DEPTH_BACK)):
            with Locations((-7.625, -0.75)):
                Rectangle(SKETCH11_W, SKETCH11_H)
            with Locations((7.625, -0.75)):
                Rectangle(SKETCH11_W, SKETCH11_H)
        extrude(amount=BOSS_EXTRUDE9_DEPTH + BOSS_EXTRUDE9_DEPTH_BACK)

    # Sketch13 → Revolve1 (revolve)
    with SkipClean():  # the faces are left unmerged after this step: merging them gives an invalid solid
        with BuildSketch(Plane(origin=(0, 5, 0), x_dir=(0.9996524848578904, 0, 0.0263611364976039), z_dir=(0, 1, 0))):
            Polygon((-8.674577428, 21.491241973), (-9.174577425, 21.491241973), (-9.174577425, 18.991241973), (-6.674577425, 18.991241973), (-6.674577425, 19.491241973), (-8.674577427, 19.491241973), align=None)
        revolve(axis=Axis((-8.065487613, 5, -23.211923888), (-0.9996524848578904, 0, -0.026361136497603275)), revolution_arc=REVOLVE1_ANGLE)

    # Sketch13 → Revolve1 other way (revolve)
    with SkipClean():  # the faces are left unmerged after this step: merging them gives an invalid solid
        with BuildSketch(Plane(origin=(0, 5, 0), x_dir=(0.9996524848578904, 0, 0.0263611364976039), z_dir=(0, 1, 0))):
            Polygon((-8.674577428, 21.491241973), (-9.174577425, 21.491241973), (-9.174577425, 18.991241973), (-6.674577425, 18.991241973), (-6.674577425, 19.491241973), (-8.674577427, 19.491241973), align=None)
        revolve(axis=Axis((-8.065487613, 5, -23.211923888), (0.9996524848578904, 0, 0.026361136497603275)), revolution_arc=REVOLVE1_OTHER_WAY_ANGLE)


solid = part_1.part
